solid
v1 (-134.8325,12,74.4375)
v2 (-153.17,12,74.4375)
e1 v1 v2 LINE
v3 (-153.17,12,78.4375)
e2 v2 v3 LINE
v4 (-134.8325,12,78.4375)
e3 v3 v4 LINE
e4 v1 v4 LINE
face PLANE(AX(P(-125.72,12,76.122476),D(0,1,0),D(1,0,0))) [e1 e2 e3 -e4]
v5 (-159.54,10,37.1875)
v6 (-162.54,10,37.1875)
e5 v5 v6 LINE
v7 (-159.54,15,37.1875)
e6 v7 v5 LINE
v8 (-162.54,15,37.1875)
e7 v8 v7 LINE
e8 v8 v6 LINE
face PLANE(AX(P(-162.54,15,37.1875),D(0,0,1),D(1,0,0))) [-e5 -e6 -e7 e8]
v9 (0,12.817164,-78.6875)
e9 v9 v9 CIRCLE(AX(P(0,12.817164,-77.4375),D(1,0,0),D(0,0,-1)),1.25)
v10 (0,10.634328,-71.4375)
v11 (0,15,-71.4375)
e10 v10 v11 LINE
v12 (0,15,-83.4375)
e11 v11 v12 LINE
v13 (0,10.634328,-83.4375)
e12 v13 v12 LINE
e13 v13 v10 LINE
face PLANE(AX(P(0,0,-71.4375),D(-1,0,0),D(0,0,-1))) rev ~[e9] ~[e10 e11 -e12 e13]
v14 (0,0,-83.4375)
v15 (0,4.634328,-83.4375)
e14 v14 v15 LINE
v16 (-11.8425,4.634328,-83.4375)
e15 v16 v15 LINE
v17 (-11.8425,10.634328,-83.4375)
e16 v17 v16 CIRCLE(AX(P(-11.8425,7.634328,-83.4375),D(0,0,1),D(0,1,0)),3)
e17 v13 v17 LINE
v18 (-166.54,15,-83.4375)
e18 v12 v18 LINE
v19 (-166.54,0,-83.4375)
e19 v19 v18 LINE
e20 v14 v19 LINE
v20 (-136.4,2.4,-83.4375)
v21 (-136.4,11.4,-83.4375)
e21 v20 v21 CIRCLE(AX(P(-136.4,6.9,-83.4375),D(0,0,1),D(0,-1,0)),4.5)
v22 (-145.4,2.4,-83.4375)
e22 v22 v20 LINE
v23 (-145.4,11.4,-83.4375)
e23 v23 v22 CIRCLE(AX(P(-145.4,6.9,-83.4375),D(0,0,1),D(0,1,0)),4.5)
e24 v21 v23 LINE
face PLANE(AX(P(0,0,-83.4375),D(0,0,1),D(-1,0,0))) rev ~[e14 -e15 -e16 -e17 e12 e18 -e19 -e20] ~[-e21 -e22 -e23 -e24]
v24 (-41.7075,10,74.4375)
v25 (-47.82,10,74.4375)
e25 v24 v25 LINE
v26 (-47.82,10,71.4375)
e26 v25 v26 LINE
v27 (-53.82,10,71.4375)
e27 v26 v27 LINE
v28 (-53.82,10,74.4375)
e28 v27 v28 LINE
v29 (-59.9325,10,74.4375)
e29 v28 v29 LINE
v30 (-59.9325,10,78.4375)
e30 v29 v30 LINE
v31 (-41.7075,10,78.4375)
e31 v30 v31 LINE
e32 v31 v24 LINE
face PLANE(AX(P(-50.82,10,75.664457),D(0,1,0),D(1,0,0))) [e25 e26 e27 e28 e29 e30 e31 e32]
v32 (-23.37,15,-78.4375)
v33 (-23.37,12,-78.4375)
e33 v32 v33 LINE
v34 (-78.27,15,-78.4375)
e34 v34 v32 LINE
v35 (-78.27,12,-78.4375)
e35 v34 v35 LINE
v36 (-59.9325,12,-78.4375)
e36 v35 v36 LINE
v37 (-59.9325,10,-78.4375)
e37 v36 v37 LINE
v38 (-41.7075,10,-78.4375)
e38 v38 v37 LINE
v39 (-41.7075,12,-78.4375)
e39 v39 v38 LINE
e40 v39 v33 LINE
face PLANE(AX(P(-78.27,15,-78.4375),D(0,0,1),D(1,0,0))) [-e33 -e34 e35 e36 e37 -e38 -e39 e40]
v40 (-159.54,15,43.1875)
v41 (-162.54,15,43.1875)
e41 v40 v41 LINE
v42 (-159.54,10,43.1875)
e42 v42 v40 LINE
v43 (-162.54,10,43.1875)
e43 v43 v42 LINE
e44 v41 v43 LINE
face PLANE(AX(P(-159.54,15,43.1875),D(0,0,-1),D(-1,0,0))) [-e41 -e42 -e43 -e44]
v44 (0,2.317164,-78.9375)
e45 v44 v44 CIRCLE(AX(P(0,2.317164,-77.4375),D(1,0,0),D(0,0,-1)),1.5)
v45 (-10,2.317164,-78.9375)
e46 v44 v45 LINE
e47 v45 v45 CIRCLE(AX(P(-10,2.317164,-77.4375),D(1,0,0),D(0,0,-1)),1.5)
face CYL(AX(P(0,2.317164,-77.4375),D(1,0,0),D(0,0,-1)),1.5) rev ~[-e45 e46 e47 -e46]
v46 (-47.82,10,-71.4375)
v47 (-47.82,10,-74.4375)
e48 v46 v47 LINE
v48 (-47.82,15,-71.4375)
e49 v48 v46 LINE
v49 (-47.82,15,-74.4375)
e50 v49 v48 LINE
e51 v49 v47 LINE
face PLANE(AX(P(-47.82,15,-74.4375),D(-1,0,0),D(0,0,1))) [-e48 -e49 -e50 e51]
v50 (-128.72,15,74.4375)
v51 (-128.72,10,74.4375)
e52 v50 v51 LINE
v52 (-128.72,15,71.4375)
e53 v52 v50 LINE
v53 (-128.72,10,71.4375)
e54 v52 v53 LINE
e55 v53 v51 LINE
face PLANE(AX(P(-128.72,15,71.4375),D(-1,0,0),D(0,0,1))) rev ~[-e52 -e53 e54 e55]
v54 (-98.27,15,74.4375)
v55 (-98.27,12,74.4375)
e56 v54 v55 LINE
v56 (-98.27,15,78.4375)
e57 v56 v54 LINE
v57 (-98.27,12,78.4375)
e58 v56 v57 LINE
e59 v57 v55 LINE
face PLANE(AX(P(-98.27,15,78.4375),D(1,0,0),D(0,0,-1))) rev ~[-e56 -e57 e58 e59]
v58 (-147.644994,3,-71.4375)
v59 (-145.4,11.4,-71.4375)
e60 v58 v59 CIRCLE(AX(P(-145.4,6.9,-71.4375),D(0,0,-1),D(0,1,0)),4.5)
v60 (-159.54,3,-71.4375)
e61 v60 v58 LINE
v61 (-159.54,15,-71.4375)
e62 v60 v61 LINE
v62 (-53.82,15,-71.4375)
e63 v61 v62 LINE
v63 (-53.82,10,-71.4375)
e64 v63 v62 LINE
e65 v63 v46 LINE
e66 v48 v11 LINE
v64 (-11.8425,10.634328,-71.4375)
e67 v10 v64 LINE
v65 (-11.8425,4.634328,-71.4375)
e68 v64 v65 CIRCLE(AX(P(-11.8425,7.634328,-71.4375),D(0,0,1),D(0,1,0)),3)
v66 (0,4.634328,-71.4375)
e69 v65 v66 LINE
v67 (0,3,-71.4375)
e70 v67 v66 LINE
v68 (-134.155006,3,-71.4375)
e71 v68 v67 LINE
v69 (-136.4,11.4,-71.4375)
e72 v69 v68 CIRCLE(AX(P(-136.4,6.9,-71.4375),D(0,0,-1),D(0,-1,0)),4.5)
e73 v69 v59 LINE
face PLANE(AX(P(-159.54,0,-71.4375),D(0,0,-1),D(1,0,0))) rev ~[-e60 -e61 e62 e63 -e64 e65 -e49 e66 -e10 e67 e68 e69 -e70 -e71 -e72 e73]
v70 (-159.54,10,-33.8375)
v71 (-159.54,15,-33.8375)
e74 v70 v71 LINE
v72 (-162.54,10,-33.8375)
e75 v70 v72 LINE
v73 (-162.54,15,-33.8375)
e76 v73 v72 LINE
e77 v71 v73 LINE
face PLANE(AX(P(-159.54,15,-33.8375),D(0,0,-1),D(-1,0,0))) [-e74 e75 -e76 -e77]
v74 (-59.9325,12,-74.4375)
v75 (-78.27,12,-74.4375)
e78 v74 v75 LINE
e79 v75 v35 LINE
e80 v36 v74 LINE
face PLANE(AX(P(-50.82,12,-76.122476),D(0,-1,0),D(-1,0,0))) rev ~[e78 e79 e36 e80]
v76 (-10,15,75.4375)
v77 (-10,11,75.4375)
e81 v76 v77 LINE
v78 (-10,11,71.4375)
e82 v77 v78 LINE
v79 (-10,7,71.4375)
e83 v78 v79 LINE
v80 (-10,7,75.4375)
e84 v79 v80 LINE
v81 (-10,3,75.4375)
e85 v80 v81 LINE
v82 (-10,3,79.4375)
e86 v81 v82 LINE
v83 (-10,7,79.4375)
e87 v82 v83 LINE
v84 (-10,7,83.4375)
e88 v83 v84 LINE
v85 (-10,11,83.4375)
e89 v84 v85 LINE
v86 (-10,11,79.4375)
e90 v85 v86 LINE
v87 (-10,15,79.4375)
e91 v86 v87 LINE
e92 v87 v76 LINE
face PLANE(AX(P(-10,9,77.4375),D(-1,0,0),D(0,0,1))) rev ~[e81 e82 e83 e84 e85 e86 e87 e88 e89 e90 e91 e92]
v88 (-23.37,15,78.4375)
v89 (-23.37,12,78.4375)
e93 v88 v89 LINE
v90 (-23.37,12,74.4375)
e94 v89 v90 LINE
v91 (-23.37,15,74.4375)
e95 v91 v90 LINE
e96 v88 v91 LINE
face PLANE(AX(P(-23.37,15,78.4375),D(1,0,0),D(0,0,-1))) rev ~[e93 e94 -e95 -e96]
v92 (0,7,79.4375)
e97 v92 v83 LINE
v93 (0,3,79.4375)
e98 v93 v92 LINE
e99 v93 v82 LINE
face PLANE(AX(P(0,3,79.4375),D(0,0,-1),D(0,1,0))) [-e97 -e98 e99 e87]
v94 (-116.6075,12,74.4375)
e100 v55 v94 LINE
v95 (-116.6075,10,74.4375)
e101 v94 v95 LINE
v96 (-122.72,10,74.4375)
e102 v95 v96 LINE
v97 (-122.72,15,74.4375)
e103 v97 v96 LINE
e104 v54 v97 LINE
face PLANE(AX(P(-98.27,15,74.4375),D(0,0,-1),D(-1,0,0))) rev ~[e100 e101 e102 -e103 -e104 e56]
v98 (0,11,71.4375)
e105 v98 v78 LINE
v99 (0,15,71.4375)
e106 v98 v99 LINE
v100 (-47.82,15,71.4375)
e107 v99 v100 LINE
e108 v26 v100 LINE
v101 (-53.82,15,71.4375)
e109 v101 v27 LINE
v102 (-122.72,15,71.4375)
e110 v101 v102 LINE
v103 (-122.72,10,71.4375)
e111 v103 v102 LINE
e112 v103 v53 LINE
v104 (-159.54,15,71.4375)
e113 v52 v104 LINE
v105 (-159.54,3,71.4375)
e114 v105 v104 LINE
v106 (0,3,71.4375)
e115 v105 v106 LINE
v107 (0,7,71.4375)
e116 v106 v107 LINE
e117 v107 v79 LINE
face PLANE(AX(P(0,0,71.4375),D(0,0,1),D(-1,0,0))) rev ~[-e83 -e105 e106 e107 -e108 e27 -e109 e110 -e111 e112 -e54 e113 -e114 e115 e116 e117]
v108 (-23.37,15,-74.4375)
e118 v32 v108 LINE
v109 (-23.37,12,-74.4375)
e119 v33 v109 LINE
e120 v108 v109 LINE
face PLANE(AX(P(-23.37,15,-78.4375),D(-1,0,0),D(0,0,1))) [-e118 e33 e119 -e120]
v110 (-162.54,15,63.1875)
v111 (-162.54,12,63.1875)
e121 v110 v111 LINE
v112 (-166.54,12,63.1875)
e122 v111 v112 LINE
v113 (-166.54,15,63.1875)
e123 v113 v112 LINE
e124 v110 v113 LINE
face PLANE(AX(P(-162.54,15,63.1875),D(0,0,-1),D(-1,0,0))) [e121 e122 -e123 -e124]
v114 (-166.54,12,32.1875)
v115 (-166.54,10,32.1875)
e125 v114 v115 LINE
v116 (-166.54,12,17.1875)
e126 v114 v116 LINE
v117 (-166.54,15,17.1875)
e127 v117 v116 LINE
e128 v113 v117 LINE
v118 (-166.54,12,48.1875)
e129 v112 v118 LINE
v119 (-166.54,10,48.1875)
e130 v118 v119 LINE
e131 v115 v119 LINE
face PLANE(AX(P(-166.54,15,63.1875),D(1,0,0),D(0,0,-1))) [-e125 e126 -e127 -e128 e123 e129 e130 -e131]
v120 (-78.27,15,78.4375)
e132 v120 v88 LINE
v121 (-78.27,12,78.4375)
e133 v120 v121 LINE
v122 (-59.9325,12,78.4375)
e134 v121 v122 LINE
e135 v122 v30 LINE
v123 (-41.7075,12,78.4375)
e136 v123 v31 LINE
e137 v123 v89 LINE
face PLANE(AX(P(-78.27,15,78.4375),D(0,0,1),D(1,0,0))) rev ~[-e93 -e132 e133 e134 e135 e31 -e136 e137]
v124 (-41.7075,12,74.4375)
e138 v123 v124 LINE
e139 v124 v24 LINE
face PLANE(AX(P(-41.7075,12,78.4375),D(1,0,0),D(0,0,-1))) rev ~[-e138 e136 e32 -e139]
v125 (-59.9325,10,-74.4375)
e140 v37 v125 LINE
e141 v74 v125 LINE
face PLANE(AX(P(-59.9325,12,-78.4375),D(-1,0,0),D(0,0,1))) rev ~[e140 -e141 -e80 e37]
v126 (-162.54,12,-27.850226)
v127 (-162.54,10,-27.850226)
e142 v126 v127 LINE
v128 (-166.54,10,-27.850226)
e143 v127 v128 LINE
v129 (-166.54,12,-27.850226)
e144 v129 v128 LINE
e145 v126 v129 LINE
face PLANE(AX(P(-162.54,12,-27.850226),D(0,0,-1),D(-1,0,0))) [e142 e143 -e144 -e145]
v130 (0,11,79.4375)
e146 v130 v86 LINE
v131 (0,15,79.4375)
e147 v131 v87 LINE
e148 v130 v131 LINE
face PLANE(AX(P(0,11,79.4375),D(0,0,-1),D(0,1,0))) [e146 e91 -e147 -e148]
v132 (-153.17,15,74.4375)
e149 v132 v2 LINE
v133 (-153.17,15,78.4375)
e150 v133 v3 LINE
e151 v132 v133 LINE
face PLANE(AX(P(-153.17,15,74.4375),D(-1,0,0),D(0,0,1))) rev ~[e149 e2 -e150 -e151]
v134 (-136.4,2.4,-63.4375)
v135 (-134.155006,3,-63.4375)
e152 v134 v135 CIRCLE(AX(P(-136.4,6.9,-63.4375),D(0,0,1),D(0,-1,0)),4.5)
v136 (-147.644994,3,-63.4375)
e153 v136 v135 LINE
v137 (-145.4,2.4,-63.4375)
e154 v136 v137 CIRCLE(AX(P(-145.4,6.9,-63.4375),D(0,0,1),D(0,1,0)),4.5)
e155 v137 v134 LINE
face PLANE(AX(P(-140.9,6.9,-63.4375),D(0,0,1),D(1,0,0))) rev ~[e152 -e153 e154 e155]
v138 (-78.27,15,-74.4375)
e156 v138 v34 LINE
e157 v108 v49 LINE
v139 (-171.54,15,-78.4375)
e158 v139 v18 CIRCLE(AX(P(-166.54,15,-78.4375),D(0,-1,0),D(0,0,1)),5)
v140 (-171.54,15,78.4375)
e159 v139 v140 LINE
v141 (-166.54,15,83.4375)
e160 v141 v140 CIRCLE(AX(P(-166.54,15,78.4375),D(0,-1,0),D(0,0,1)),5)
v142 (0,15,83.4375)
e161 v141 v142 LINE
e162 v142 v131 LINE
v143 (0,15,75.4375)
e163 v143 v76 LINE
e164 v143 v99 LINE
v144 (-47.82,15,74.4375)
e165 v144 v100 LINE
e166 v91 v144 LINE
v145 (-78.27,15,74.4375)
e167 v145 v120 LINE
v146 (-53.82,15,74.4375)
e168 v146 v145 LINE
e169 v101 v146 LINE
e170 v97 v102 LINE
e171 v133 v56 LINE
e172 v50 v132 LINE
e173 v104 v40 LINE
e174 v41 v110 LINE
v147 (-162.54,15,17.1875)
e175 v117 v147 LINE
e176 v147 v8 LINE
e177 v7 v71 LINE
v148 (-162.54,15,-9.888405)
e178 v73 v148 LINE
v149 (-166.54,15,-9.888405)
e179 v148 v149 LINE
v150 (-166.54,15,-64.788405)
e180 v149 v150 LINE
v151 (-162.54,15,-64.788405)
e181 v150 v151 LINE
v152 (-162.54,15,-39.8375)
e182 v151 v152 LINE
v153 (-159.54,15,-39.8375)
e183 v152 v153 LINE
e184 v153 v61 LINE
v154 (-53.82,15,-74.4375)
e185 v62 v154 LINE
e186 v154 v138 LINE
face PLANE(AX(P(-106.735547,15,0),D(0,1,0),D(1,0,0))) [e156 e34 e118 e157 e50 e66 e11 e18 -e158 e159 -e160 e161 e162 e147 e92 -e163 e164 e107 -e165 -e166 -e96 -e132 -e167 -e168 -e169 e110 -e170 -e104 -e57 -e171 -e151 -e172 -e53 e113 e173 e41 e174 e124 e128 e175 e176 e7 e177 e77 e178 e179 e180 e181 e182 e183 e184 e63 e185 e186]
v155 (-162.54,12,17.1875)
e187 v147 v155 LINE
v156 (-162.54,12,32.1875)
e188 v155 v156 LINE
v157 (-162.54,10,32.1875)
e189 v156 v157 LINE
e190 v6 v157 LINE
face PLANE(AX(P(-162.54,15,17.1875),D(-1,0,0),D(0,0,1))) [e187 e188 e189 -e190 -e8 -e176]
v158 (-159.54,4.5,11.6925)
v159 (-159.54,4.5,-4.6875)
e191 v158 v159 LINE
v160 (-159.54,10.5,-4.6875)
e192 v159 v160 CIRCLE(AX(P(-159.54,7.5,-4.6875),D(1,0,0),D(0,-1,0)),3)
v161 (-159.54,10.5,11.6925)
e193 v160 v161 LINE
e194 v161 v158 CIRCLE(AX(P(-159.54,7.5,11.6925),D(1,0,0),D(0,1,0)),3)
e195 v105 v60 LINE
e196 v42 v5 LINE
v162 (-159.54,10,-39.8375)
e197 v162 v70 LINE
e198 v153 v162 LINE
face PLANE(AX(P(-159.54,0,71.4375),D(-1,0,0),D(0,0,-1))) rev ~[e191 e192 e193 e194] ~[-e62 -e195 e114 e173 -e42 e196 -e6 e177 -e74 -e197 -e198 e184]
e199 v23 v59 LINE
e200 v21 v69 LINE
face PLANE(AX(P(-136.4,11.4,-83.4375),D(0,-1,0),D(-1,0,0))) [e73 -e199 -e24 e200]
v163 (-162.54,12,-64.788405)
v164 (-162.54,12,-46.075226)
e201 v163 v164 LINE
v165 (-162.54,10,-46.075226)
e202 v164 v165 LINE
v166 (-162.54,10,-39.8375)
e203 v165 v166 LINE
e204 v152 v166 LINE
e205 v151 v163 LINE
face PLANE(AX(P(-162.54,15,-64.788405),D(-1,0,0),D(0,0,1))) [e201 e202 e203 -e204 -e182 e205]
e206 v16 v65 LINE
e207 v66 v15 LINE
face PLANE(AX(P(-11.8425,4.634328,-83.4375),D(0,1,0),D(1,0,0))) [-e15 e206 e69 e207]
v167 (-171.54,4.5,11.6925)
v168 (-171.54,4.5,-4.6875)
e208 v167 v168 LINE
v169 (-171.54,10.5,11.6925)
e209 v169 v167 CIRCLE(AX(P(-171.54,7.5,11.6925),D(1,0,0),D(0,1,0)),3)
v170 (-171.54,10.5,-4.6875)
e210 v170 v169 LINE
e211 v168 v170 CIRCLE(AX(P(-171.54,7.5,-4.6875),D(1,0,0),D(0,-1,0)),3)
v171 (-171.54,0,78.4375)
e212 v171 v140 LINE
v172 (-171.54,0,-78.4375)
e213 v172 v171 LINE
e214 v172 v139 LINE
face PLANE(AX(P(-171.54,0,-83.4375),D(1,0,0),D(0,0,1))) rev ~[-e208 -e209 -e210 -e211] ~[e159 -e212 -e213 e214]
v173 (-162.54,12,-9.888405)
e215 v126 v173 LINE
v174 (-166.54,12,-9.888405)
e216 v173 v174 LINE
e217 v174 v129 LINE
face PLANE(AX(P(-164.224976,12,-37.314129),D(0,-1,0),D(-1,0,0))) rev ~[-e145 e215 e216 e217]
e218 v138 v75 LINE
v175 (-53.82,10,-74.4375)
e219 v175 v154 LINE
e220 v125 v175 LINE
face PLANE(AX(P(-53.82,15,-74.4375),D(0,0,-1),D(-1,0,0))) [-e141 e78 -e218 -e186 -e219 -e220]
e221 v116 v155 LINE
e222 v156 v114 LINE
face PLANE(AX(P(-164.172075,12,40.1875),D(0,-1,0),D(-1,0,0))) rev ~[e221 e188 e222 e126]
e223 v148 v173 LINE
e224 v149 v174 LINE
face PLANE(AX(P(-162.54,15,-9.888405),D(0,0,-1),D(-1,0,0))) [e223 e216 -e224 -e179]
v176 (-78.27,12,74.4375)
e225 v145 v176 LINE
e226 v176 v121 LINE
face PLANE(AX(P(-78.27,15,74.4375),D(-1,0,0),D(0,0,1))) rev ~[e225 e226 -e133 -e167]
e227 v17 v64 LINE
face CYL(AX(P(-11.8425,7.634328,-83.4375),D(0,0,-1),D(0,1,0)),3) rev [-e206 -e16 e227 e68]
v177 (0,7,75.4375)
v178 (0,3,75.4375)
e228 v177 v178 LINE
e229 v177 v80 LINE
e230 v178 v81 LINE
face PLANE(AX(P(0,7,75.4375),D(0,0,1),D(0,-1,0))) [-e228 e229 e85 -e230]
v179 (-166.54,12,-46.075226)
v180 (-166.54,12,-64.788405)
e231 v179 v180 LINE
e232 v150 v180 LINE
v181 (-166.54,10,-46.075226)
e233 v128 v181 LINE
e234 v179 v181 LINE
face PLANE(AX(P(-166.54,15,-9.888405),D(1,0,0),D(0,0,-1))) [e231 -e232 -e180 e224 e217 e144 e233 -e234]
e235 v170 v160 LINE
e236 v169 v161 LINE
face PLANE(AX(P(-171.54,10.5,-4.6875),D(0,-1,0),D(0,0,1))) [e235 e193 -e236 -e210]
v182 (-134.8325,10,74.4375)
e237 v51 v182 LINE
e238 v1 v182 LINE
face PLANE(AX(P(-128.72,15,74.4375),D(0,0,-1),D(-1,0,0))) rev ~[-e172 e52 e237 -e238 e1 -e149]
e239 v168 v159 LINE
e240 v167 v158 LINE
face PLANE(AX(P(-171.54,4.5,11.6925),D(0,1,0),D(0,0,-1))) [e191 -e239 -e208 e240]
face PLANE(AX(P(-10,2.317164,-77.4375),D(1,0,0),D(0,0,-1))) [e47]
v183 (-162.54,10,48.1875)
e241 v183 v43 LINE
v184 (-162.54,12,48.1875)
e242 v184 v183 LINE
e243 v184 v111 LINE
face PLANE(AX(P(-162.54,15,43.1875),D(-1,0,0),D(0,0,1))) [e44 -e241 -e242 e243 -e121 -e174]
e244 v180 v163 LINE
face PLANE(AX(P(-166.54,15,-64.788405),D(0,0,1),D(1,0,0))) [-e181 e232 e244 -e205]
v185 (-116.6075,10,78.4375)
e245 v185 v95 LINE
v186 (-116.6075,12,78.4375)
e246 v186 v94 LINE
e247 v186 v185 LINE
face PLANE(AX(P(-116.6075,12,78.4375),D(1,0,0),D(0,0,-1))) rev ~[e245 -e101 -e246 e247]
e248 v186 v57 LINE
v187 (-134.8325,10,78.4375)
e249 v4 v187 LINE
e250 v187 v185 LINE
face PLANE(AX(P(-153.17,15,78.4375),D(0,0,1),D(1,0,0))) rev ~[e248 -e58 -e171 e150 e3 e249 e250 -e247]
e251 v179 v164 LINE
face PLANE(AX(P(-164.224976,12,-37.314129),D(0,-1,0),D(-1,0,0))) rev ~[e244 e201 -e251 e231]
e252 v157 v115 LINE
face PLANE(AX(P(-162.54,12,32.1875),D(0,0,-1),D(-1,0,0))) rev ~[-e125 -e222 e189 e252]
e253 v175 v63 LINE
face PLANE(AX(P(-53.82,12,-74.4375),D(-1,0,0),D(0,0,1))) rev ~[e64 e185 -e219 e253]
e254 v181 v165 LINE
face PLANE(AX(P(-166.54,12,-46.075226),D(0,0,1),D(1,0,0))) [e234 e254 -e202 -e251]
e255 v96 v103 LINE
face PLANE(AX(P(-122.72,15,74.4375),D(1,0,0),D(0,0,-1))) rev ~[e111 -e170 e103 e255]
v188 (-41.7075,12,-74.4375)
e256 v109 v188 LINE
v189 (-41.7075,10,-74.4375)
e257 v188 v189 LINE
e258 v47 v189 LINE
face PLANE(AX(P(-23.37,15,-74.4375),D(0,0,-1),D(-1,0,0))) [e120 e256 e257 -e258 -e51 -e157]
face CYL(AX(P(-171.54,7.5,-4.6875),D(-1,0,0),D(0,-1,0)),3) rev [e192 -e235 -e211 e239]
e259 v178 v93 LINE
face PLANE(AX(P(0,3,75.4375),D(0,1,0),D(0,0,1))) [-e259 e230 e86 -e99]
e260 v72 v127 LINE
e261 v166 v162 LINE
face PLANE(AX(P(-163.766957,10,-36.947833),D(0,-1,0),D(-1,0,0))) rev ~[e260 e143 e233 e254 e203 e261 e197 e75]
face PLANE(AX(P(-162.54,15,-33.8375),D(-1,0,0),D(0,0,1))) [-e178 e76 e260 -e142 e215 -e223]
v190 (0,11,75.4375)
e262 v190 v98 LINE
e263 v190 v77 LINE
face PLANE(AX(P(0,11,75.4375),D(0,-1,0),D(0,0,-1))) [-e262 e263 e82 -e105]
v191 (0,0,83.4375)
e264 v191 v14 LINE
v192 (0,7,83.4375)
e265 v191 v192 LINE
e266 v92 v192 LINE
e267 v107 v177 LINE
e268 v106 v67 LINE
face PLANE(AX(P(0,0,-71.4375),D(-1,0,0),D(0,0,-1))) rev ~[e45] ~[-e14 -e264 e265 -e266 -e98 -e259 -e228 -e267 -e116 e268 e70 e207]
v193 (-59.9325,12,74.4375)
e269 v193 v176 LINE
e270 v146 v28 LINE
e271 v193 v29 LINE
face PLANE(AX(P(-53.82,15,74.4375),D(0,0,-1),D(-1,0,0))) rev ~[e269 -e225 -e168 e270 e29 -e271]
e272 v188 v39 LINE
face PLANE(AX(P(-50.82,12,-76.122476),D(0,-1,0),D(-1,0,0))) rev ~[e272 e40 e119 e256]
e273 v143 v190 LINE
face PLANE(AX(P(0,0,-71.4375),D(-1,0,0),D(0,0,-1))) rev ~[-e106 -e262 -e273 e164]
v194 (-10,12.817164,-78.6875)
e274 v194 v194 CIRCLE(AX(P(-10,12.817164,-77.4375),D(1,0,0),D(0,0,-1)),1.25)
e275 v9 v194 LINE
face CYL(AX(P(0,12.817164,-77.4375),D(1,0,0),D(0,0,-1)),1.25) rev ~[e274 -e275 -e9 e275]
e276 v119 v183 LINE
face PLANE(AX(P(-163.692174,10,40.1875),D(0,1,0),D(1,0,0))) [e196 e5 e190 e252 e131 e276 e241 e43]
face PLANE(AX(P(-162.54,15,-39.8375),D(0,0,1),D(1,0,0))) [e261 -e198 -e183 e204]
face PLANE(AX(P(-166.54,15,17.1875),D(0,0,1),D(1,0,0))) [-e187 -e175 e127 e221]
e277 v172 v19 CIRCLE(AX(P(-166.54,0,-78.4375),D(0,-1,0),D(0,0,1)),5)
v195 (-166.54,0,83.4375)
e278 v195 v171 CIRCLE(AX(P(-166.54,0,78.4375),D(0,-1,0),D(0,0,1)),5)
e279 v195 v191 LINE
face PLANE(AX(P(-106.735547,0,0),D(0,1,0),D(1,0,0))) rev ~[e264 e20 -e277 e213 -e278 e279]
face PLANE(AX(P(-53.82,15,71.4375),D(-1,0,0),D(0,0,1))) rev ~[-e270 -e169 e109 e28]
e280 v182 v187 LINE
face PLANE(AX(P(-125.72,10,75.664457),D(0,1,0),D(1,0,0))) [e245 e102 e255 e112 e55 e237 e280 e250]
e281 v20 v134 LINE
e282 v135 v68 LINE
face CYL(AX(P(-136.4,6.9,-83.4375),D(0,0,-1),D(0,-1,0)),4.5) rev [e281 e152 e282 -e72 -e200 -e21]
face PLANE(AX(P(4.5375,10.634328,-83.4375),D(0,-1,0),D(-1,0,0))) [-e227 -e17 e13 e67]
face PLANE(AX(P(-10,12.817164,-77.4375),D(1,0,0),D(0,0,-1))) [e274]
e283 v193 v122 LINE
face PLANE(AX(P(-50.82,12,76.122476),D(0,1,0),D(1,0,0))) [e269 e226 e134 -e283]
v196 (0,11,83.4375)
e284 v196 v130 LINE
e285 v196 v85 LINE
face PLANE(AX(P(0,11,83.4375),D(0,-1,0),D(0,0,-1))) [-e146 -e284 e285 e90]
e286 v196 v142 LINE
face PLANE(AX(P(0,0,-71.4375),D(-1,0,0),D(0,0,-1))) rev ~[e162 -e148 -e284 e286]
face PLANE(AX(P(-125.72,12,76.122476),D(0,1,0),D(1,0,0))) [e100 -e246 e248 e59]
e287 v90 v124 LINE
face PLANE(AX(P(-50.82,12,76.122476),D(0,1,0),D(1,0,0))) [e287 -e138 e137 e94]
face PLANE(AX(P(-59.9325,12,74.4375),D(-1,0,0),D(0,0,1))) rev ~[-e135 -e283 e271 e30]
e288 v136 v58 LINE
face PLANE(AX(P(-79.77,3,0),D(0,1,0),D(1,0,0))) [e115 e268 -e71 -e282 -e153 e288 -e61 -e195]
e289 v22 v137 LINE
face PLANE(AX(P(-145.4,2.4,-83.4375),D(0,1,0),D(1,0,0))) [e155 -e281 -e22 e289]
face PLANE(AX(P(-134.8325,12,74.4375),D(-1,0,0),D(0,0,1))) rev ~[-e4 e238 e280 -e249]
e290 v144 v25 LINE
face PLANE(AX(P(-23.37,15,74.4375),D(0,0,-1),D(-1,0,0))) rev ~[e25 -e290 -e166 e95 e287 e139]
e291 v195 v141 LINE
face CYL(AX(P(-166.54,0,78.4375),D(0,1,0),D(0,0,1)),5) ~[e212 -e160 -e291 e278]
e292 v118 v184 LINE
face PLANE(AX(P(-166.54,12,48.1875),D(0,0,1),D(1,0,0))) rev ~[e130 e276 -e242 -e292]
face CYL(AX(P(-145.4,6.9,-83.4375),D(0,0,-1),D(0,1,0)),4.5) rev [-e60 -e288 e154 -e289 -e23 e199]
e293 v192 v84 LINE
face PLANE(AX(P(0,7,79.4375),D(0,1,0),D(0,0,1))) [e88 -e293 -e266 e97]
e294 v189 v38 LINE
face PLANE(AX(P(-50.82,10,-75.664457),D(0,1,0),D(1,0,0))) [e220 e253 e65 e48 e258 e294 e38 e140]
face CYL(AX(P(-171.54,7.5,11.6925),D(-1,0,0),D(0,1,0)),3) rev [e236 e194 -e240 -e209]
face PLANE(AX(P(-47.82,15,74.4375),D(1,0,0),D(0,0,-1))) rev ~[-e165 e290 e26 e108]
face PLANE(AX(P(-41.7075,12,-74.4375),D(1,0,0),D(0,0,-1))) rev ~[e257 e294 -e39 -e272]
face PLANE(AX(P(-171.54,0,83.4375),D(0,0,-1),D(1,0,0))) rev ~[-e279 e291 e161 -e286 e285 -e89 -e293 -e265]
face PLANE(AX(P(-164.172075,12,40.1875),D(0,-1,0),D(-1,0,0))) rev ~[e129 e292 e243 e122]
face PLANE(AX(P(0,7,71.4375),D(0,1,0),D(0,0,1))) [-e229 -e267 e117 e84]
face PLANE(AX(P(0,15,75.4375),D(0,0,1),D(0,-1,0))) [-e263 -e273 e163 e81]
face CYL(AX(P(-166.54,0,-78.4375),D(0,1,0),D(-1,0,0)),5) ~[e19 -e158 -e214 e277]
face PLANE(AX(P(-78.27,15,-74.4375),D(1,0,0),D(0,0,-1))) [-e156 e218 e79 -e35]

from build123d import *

# Parameters (mm, degrees)
SKETCH1_W           = 159.54
SKETCH1_H           = 142.875
BOSS_EXTRUDE1_DEPTH = 3
BOSS_EXTRUDE2_DEPTH = 15
CUT_EXTRUDE1_DEPTH  = 3
CUT_EXTRUDE2_DEPTH  = 2
CUT_EXTRUDE3_DEPTH  = 12
CUT_EXTRUDE5_DEPTH  = 12
CUT_EXTRUDE6_DEPTH  = 20
CUT_EXTRUDE8_DEPTH  = 10
FILLET2_R           = 5
FILLET3_R           = 5
SKETCH11_R          = 1.5
SKETCH11_R_2        = 1.25
CUT_EXTRUDE9_DEPTH  = 10


with BuildPart() as part:
    # Sketch1 → Boss-Extrude1 (new body)
    with BuildSketch(Plane(origin=(0, 0, 0), x_dir=(1, 0, 0), z_dir=(0, 1, 0))):
        with Locations((-79.77, 0)):
            Rectangle(SKETCH1_W, SKETCH1_H)
    extrude(amount=BOSS_EXTRUDE1_DEPTH)

    # Sketch2 → Boss-Extrude2 (add)
    with BuildSketch(Plane(origin=(0, 0, 0), x_dir=(1, 0, 0), z_dir=(0, 1, 0))):
        Polygon((0, 71.4375), (0, 83.4375), (-171.54, 83.4375), (-171.54, -83.4375), (0, -83.4375), (0, -71.4375), (-159.54, -71.4375), (-159.54, 71.4375), align=None)
    extrude(amount=BOSS_EXTRUDE2_DEPTH)

    # Sketch3 → Cut-Extrude1 (cut)
    with BuildSketch(Plane(origin=(0, 15, 0), x_dir=(1, 0, 0), z_dir=(0, 1, 0))):
        Polygon((-159.54, 39.8375), (-159.54, 33.8375), (-162.54, 33.8375), (-162.54, 9.888405135), (-166.54, 9.888405135), (-166.54, 64.788405135), (-162.54, 64.788405135), (-162.54, 39.8375), align=None)
        Polygon((-23.37, -74.4375), (-47.82, -74.4375), (-47.82, -71.4375), (-53.82, -71.4375), (-53.82, -74.4375), (-78.27, -74.4375), (-78.27, -78.4375), (-23.37, -78.4375), align=None)
        Polygon((-159.54, -37.1875), (-159.54, -43.1875), (-162.54, -43.1875), (-162.54, -63.1875), (-166.54, -63.1875), (-166.54, -17.1875), (-162.54, -17.1875), (-162.54, -37.1875), align=None)
        Polygon((-98.27, -78.4375), (-98.27, -74.4375), (-122.72, -74.4375), (-122.72, -71.4375), (-128.72, -71.4375), (-128.72, -74.4375), (-153.17, -74.4375), (-153.17, -78.4375), align=None)
        Polygon((-47.82, 74.4375), (-47.82, 71.4375), (-53.82, 71.4375), (-53.82, 74.4375), (-78.27, 74.4375), (-78.27, 78.4375), (-23.37, 78.4375), (-23.37, 74.4375), align=None)
    extrude(amount=-CUT_EXTRUDE1_DEPTH, mode=Mode.SUBTRACT)

    # Sketch4 → Cut-Extrude2 (cut)
    with BuildSketch(Plane(origin=(0, 12, 0), x_dir=(1, 0, 0), z_dir=(0, 1, 0))):
        Polygon((-53.82, 74.4375), (-53.82, 71.4375), (-47.82, 71.4375), (-47.82, 74.4375), (-41.7075, 74.4375), (-41.7075, 78.4375), (-50.82, 78.4375), (-59.9325, 78.4375), (-59.9325, 74.4375), align=None)
        Polygon((-159.54, 39.8375), (-159.54, 33.8375), (-162.54, 33.8375), (-162.54, 27.850226284), (-166.54, 27.850226284), (-166.54, 46.075226284), (-162.54, 46.075226284), (-162.54, 39.8375), align=None)
        Polygon((-166.54, -32.1875), (-166.54, -48.1875), (-162.54, -48.1875), (-162.54, -43.1875), (-159.54, -43.1875), (-159.54, -37.1875), (-162.54, -37.1875), (-162.54, -32.1875), align=None)
        Polygon((-128.72, -71.4375), (-128.72, -74.4375), (-134.8325, -74.4375), (-134.8325, -78.4375), (-116.6075, -78.4375), (-116.6075, -74.4375), (-122.72, -74.4375), (-122.72, -71.4375), align=None)
        Polygon((-53.82, -74.4375), (-59.9325, -74.4375), (-59.9325, -78.4375), (-41.7075, -78.4375), (-41.7075, -74.4375), (-47.82, -74.4375), (-47.82, -71.4375), (-53.82, -71.4375), align=None)
    extrude(amount=-CUT_EXTRUDE2_DEPTH, mode=Mode.SUBTRACT)

    # Sketch5 → Cut-Extrude3 (cut)
    with BuildSketch(Plane.ZY.offset(171.54)):
        with BuildLine():
            Line((-4.6875, 10.5), (11.6925, 10.5))
            ThreePointArc((11.6925, 10.5), (14.6925, 7.5), (11.6925, 4.5))
            Line((11.6925, 4.5), (-4.6875, 4.5))
            ThreePointArc((-4.6875, 4.5), (-7.6875, 7.5), (-4.6875, 10.5))
        make_face()
    extrude(amount=-CUT_EXTRUDE3_DEPTH, mode=Mode.SUBTRACT)

    # Sketch7 → Cut-Extrude5 (cut)
    with BuildSketch(Plane(origin=(0, 0, -83.4375), x_dir=(-1, 0, 0), z_dir=(0, 0, -1))):
        with BuildLine():
            Line((-4.5375, 10.634328206), (11.8425, 10.634328206))
            ThreePointArc((11.8425, 10.634328206), (14.8425, 7.634328206), (11.8425, 4.634328206))
            Line((11.8425, 4.634328206), (-4.5375, 4.634328206))
            ThreePointArc((-4.5375, 4.634328206), (-7.5375, 7.634328206), (-4.5375, 10.634328206))
        make_face()
    extrude(amount=-CUT_EXTRUDE5_DEPTH, mode=Mode.SUBTRACT)

    # Sketch8 → Cut-Extrude6 (cut)
    with BuildSketch(Plane(origin=(0, 0, -83.4375), x_dir=(-1, 0, 0), z_dir=(0, 0, -1))):
        with BuildLine():
            Line((136.4, 11.4), (145.4, 11.4))
            ThreePointArc((145.4, 11.4), (149.9, 6.9), (145.4, 2.4))
            Line((145.4, 2.4), (136.4, 2.4))
            ThreePointArc((136.4, 2.4), (131.9, 6.9), (136.4, 11.4))
        make_face()
    extrude(amount=-CUT_EXTRUDE6_DEPTH, mode=Mode.SUBTRACT)

    # Sketch10 → Cut-Extrude8 (cut)
    with BuildSketch(Plane(origin=(0, 0, 0), x_dir=(0, 0, -1), z_dir=(1, 0, 0))):
        Polygon((-79.4375, 15), (-75.4375, 15), (-75.4375, 11), (-71.4375, 11), (-71.4375, 7), (-75.4375, 7), (-75.4375, 3), (-79.4375, 3), (-79.4375, 7), (-83.4375, 7), (-83.4375, 11), (-79.4375, 11), align=None)
    extrude(amount=-CUT_EXTRUDE8_DEPTH, mode=Mode.SUBTRACT)

    # Fillet2
    fillet2_edges = [part.edges().sort_by_distance(p)[0] for p in [
        (-171.54, 7.5, 83.4375),
    ]]
    fillet(fillet2_edges, radius=FILLET2_R)

    # Fillet3
    fillet3_edges = [part.edges().sort_by_distance(p)[0] for p in [
        (-171.54, 7.5, -83.4375),
    ]]
    fillet(fillet3_edges, radius=FILLET3_R)

    # Sketch11 → Cut-Extrude9 (cut)
    with BuildSketch(Plane(origin=(0, 0, 0), x_dir=(0, 0, -1), z_dir=(1, 0, 0))):
        with Locations((77.4375, 2.317164103)):
            Circle(SKETCH11_R)
        with Locations((77.4375, 12.817164103)):
            Circle(SKETCH11_R_2)
    extrude(amount=-CUT_EXTRUDE9_DEPTH, mode=Mode.SUBTRACT)


solid = part.part
